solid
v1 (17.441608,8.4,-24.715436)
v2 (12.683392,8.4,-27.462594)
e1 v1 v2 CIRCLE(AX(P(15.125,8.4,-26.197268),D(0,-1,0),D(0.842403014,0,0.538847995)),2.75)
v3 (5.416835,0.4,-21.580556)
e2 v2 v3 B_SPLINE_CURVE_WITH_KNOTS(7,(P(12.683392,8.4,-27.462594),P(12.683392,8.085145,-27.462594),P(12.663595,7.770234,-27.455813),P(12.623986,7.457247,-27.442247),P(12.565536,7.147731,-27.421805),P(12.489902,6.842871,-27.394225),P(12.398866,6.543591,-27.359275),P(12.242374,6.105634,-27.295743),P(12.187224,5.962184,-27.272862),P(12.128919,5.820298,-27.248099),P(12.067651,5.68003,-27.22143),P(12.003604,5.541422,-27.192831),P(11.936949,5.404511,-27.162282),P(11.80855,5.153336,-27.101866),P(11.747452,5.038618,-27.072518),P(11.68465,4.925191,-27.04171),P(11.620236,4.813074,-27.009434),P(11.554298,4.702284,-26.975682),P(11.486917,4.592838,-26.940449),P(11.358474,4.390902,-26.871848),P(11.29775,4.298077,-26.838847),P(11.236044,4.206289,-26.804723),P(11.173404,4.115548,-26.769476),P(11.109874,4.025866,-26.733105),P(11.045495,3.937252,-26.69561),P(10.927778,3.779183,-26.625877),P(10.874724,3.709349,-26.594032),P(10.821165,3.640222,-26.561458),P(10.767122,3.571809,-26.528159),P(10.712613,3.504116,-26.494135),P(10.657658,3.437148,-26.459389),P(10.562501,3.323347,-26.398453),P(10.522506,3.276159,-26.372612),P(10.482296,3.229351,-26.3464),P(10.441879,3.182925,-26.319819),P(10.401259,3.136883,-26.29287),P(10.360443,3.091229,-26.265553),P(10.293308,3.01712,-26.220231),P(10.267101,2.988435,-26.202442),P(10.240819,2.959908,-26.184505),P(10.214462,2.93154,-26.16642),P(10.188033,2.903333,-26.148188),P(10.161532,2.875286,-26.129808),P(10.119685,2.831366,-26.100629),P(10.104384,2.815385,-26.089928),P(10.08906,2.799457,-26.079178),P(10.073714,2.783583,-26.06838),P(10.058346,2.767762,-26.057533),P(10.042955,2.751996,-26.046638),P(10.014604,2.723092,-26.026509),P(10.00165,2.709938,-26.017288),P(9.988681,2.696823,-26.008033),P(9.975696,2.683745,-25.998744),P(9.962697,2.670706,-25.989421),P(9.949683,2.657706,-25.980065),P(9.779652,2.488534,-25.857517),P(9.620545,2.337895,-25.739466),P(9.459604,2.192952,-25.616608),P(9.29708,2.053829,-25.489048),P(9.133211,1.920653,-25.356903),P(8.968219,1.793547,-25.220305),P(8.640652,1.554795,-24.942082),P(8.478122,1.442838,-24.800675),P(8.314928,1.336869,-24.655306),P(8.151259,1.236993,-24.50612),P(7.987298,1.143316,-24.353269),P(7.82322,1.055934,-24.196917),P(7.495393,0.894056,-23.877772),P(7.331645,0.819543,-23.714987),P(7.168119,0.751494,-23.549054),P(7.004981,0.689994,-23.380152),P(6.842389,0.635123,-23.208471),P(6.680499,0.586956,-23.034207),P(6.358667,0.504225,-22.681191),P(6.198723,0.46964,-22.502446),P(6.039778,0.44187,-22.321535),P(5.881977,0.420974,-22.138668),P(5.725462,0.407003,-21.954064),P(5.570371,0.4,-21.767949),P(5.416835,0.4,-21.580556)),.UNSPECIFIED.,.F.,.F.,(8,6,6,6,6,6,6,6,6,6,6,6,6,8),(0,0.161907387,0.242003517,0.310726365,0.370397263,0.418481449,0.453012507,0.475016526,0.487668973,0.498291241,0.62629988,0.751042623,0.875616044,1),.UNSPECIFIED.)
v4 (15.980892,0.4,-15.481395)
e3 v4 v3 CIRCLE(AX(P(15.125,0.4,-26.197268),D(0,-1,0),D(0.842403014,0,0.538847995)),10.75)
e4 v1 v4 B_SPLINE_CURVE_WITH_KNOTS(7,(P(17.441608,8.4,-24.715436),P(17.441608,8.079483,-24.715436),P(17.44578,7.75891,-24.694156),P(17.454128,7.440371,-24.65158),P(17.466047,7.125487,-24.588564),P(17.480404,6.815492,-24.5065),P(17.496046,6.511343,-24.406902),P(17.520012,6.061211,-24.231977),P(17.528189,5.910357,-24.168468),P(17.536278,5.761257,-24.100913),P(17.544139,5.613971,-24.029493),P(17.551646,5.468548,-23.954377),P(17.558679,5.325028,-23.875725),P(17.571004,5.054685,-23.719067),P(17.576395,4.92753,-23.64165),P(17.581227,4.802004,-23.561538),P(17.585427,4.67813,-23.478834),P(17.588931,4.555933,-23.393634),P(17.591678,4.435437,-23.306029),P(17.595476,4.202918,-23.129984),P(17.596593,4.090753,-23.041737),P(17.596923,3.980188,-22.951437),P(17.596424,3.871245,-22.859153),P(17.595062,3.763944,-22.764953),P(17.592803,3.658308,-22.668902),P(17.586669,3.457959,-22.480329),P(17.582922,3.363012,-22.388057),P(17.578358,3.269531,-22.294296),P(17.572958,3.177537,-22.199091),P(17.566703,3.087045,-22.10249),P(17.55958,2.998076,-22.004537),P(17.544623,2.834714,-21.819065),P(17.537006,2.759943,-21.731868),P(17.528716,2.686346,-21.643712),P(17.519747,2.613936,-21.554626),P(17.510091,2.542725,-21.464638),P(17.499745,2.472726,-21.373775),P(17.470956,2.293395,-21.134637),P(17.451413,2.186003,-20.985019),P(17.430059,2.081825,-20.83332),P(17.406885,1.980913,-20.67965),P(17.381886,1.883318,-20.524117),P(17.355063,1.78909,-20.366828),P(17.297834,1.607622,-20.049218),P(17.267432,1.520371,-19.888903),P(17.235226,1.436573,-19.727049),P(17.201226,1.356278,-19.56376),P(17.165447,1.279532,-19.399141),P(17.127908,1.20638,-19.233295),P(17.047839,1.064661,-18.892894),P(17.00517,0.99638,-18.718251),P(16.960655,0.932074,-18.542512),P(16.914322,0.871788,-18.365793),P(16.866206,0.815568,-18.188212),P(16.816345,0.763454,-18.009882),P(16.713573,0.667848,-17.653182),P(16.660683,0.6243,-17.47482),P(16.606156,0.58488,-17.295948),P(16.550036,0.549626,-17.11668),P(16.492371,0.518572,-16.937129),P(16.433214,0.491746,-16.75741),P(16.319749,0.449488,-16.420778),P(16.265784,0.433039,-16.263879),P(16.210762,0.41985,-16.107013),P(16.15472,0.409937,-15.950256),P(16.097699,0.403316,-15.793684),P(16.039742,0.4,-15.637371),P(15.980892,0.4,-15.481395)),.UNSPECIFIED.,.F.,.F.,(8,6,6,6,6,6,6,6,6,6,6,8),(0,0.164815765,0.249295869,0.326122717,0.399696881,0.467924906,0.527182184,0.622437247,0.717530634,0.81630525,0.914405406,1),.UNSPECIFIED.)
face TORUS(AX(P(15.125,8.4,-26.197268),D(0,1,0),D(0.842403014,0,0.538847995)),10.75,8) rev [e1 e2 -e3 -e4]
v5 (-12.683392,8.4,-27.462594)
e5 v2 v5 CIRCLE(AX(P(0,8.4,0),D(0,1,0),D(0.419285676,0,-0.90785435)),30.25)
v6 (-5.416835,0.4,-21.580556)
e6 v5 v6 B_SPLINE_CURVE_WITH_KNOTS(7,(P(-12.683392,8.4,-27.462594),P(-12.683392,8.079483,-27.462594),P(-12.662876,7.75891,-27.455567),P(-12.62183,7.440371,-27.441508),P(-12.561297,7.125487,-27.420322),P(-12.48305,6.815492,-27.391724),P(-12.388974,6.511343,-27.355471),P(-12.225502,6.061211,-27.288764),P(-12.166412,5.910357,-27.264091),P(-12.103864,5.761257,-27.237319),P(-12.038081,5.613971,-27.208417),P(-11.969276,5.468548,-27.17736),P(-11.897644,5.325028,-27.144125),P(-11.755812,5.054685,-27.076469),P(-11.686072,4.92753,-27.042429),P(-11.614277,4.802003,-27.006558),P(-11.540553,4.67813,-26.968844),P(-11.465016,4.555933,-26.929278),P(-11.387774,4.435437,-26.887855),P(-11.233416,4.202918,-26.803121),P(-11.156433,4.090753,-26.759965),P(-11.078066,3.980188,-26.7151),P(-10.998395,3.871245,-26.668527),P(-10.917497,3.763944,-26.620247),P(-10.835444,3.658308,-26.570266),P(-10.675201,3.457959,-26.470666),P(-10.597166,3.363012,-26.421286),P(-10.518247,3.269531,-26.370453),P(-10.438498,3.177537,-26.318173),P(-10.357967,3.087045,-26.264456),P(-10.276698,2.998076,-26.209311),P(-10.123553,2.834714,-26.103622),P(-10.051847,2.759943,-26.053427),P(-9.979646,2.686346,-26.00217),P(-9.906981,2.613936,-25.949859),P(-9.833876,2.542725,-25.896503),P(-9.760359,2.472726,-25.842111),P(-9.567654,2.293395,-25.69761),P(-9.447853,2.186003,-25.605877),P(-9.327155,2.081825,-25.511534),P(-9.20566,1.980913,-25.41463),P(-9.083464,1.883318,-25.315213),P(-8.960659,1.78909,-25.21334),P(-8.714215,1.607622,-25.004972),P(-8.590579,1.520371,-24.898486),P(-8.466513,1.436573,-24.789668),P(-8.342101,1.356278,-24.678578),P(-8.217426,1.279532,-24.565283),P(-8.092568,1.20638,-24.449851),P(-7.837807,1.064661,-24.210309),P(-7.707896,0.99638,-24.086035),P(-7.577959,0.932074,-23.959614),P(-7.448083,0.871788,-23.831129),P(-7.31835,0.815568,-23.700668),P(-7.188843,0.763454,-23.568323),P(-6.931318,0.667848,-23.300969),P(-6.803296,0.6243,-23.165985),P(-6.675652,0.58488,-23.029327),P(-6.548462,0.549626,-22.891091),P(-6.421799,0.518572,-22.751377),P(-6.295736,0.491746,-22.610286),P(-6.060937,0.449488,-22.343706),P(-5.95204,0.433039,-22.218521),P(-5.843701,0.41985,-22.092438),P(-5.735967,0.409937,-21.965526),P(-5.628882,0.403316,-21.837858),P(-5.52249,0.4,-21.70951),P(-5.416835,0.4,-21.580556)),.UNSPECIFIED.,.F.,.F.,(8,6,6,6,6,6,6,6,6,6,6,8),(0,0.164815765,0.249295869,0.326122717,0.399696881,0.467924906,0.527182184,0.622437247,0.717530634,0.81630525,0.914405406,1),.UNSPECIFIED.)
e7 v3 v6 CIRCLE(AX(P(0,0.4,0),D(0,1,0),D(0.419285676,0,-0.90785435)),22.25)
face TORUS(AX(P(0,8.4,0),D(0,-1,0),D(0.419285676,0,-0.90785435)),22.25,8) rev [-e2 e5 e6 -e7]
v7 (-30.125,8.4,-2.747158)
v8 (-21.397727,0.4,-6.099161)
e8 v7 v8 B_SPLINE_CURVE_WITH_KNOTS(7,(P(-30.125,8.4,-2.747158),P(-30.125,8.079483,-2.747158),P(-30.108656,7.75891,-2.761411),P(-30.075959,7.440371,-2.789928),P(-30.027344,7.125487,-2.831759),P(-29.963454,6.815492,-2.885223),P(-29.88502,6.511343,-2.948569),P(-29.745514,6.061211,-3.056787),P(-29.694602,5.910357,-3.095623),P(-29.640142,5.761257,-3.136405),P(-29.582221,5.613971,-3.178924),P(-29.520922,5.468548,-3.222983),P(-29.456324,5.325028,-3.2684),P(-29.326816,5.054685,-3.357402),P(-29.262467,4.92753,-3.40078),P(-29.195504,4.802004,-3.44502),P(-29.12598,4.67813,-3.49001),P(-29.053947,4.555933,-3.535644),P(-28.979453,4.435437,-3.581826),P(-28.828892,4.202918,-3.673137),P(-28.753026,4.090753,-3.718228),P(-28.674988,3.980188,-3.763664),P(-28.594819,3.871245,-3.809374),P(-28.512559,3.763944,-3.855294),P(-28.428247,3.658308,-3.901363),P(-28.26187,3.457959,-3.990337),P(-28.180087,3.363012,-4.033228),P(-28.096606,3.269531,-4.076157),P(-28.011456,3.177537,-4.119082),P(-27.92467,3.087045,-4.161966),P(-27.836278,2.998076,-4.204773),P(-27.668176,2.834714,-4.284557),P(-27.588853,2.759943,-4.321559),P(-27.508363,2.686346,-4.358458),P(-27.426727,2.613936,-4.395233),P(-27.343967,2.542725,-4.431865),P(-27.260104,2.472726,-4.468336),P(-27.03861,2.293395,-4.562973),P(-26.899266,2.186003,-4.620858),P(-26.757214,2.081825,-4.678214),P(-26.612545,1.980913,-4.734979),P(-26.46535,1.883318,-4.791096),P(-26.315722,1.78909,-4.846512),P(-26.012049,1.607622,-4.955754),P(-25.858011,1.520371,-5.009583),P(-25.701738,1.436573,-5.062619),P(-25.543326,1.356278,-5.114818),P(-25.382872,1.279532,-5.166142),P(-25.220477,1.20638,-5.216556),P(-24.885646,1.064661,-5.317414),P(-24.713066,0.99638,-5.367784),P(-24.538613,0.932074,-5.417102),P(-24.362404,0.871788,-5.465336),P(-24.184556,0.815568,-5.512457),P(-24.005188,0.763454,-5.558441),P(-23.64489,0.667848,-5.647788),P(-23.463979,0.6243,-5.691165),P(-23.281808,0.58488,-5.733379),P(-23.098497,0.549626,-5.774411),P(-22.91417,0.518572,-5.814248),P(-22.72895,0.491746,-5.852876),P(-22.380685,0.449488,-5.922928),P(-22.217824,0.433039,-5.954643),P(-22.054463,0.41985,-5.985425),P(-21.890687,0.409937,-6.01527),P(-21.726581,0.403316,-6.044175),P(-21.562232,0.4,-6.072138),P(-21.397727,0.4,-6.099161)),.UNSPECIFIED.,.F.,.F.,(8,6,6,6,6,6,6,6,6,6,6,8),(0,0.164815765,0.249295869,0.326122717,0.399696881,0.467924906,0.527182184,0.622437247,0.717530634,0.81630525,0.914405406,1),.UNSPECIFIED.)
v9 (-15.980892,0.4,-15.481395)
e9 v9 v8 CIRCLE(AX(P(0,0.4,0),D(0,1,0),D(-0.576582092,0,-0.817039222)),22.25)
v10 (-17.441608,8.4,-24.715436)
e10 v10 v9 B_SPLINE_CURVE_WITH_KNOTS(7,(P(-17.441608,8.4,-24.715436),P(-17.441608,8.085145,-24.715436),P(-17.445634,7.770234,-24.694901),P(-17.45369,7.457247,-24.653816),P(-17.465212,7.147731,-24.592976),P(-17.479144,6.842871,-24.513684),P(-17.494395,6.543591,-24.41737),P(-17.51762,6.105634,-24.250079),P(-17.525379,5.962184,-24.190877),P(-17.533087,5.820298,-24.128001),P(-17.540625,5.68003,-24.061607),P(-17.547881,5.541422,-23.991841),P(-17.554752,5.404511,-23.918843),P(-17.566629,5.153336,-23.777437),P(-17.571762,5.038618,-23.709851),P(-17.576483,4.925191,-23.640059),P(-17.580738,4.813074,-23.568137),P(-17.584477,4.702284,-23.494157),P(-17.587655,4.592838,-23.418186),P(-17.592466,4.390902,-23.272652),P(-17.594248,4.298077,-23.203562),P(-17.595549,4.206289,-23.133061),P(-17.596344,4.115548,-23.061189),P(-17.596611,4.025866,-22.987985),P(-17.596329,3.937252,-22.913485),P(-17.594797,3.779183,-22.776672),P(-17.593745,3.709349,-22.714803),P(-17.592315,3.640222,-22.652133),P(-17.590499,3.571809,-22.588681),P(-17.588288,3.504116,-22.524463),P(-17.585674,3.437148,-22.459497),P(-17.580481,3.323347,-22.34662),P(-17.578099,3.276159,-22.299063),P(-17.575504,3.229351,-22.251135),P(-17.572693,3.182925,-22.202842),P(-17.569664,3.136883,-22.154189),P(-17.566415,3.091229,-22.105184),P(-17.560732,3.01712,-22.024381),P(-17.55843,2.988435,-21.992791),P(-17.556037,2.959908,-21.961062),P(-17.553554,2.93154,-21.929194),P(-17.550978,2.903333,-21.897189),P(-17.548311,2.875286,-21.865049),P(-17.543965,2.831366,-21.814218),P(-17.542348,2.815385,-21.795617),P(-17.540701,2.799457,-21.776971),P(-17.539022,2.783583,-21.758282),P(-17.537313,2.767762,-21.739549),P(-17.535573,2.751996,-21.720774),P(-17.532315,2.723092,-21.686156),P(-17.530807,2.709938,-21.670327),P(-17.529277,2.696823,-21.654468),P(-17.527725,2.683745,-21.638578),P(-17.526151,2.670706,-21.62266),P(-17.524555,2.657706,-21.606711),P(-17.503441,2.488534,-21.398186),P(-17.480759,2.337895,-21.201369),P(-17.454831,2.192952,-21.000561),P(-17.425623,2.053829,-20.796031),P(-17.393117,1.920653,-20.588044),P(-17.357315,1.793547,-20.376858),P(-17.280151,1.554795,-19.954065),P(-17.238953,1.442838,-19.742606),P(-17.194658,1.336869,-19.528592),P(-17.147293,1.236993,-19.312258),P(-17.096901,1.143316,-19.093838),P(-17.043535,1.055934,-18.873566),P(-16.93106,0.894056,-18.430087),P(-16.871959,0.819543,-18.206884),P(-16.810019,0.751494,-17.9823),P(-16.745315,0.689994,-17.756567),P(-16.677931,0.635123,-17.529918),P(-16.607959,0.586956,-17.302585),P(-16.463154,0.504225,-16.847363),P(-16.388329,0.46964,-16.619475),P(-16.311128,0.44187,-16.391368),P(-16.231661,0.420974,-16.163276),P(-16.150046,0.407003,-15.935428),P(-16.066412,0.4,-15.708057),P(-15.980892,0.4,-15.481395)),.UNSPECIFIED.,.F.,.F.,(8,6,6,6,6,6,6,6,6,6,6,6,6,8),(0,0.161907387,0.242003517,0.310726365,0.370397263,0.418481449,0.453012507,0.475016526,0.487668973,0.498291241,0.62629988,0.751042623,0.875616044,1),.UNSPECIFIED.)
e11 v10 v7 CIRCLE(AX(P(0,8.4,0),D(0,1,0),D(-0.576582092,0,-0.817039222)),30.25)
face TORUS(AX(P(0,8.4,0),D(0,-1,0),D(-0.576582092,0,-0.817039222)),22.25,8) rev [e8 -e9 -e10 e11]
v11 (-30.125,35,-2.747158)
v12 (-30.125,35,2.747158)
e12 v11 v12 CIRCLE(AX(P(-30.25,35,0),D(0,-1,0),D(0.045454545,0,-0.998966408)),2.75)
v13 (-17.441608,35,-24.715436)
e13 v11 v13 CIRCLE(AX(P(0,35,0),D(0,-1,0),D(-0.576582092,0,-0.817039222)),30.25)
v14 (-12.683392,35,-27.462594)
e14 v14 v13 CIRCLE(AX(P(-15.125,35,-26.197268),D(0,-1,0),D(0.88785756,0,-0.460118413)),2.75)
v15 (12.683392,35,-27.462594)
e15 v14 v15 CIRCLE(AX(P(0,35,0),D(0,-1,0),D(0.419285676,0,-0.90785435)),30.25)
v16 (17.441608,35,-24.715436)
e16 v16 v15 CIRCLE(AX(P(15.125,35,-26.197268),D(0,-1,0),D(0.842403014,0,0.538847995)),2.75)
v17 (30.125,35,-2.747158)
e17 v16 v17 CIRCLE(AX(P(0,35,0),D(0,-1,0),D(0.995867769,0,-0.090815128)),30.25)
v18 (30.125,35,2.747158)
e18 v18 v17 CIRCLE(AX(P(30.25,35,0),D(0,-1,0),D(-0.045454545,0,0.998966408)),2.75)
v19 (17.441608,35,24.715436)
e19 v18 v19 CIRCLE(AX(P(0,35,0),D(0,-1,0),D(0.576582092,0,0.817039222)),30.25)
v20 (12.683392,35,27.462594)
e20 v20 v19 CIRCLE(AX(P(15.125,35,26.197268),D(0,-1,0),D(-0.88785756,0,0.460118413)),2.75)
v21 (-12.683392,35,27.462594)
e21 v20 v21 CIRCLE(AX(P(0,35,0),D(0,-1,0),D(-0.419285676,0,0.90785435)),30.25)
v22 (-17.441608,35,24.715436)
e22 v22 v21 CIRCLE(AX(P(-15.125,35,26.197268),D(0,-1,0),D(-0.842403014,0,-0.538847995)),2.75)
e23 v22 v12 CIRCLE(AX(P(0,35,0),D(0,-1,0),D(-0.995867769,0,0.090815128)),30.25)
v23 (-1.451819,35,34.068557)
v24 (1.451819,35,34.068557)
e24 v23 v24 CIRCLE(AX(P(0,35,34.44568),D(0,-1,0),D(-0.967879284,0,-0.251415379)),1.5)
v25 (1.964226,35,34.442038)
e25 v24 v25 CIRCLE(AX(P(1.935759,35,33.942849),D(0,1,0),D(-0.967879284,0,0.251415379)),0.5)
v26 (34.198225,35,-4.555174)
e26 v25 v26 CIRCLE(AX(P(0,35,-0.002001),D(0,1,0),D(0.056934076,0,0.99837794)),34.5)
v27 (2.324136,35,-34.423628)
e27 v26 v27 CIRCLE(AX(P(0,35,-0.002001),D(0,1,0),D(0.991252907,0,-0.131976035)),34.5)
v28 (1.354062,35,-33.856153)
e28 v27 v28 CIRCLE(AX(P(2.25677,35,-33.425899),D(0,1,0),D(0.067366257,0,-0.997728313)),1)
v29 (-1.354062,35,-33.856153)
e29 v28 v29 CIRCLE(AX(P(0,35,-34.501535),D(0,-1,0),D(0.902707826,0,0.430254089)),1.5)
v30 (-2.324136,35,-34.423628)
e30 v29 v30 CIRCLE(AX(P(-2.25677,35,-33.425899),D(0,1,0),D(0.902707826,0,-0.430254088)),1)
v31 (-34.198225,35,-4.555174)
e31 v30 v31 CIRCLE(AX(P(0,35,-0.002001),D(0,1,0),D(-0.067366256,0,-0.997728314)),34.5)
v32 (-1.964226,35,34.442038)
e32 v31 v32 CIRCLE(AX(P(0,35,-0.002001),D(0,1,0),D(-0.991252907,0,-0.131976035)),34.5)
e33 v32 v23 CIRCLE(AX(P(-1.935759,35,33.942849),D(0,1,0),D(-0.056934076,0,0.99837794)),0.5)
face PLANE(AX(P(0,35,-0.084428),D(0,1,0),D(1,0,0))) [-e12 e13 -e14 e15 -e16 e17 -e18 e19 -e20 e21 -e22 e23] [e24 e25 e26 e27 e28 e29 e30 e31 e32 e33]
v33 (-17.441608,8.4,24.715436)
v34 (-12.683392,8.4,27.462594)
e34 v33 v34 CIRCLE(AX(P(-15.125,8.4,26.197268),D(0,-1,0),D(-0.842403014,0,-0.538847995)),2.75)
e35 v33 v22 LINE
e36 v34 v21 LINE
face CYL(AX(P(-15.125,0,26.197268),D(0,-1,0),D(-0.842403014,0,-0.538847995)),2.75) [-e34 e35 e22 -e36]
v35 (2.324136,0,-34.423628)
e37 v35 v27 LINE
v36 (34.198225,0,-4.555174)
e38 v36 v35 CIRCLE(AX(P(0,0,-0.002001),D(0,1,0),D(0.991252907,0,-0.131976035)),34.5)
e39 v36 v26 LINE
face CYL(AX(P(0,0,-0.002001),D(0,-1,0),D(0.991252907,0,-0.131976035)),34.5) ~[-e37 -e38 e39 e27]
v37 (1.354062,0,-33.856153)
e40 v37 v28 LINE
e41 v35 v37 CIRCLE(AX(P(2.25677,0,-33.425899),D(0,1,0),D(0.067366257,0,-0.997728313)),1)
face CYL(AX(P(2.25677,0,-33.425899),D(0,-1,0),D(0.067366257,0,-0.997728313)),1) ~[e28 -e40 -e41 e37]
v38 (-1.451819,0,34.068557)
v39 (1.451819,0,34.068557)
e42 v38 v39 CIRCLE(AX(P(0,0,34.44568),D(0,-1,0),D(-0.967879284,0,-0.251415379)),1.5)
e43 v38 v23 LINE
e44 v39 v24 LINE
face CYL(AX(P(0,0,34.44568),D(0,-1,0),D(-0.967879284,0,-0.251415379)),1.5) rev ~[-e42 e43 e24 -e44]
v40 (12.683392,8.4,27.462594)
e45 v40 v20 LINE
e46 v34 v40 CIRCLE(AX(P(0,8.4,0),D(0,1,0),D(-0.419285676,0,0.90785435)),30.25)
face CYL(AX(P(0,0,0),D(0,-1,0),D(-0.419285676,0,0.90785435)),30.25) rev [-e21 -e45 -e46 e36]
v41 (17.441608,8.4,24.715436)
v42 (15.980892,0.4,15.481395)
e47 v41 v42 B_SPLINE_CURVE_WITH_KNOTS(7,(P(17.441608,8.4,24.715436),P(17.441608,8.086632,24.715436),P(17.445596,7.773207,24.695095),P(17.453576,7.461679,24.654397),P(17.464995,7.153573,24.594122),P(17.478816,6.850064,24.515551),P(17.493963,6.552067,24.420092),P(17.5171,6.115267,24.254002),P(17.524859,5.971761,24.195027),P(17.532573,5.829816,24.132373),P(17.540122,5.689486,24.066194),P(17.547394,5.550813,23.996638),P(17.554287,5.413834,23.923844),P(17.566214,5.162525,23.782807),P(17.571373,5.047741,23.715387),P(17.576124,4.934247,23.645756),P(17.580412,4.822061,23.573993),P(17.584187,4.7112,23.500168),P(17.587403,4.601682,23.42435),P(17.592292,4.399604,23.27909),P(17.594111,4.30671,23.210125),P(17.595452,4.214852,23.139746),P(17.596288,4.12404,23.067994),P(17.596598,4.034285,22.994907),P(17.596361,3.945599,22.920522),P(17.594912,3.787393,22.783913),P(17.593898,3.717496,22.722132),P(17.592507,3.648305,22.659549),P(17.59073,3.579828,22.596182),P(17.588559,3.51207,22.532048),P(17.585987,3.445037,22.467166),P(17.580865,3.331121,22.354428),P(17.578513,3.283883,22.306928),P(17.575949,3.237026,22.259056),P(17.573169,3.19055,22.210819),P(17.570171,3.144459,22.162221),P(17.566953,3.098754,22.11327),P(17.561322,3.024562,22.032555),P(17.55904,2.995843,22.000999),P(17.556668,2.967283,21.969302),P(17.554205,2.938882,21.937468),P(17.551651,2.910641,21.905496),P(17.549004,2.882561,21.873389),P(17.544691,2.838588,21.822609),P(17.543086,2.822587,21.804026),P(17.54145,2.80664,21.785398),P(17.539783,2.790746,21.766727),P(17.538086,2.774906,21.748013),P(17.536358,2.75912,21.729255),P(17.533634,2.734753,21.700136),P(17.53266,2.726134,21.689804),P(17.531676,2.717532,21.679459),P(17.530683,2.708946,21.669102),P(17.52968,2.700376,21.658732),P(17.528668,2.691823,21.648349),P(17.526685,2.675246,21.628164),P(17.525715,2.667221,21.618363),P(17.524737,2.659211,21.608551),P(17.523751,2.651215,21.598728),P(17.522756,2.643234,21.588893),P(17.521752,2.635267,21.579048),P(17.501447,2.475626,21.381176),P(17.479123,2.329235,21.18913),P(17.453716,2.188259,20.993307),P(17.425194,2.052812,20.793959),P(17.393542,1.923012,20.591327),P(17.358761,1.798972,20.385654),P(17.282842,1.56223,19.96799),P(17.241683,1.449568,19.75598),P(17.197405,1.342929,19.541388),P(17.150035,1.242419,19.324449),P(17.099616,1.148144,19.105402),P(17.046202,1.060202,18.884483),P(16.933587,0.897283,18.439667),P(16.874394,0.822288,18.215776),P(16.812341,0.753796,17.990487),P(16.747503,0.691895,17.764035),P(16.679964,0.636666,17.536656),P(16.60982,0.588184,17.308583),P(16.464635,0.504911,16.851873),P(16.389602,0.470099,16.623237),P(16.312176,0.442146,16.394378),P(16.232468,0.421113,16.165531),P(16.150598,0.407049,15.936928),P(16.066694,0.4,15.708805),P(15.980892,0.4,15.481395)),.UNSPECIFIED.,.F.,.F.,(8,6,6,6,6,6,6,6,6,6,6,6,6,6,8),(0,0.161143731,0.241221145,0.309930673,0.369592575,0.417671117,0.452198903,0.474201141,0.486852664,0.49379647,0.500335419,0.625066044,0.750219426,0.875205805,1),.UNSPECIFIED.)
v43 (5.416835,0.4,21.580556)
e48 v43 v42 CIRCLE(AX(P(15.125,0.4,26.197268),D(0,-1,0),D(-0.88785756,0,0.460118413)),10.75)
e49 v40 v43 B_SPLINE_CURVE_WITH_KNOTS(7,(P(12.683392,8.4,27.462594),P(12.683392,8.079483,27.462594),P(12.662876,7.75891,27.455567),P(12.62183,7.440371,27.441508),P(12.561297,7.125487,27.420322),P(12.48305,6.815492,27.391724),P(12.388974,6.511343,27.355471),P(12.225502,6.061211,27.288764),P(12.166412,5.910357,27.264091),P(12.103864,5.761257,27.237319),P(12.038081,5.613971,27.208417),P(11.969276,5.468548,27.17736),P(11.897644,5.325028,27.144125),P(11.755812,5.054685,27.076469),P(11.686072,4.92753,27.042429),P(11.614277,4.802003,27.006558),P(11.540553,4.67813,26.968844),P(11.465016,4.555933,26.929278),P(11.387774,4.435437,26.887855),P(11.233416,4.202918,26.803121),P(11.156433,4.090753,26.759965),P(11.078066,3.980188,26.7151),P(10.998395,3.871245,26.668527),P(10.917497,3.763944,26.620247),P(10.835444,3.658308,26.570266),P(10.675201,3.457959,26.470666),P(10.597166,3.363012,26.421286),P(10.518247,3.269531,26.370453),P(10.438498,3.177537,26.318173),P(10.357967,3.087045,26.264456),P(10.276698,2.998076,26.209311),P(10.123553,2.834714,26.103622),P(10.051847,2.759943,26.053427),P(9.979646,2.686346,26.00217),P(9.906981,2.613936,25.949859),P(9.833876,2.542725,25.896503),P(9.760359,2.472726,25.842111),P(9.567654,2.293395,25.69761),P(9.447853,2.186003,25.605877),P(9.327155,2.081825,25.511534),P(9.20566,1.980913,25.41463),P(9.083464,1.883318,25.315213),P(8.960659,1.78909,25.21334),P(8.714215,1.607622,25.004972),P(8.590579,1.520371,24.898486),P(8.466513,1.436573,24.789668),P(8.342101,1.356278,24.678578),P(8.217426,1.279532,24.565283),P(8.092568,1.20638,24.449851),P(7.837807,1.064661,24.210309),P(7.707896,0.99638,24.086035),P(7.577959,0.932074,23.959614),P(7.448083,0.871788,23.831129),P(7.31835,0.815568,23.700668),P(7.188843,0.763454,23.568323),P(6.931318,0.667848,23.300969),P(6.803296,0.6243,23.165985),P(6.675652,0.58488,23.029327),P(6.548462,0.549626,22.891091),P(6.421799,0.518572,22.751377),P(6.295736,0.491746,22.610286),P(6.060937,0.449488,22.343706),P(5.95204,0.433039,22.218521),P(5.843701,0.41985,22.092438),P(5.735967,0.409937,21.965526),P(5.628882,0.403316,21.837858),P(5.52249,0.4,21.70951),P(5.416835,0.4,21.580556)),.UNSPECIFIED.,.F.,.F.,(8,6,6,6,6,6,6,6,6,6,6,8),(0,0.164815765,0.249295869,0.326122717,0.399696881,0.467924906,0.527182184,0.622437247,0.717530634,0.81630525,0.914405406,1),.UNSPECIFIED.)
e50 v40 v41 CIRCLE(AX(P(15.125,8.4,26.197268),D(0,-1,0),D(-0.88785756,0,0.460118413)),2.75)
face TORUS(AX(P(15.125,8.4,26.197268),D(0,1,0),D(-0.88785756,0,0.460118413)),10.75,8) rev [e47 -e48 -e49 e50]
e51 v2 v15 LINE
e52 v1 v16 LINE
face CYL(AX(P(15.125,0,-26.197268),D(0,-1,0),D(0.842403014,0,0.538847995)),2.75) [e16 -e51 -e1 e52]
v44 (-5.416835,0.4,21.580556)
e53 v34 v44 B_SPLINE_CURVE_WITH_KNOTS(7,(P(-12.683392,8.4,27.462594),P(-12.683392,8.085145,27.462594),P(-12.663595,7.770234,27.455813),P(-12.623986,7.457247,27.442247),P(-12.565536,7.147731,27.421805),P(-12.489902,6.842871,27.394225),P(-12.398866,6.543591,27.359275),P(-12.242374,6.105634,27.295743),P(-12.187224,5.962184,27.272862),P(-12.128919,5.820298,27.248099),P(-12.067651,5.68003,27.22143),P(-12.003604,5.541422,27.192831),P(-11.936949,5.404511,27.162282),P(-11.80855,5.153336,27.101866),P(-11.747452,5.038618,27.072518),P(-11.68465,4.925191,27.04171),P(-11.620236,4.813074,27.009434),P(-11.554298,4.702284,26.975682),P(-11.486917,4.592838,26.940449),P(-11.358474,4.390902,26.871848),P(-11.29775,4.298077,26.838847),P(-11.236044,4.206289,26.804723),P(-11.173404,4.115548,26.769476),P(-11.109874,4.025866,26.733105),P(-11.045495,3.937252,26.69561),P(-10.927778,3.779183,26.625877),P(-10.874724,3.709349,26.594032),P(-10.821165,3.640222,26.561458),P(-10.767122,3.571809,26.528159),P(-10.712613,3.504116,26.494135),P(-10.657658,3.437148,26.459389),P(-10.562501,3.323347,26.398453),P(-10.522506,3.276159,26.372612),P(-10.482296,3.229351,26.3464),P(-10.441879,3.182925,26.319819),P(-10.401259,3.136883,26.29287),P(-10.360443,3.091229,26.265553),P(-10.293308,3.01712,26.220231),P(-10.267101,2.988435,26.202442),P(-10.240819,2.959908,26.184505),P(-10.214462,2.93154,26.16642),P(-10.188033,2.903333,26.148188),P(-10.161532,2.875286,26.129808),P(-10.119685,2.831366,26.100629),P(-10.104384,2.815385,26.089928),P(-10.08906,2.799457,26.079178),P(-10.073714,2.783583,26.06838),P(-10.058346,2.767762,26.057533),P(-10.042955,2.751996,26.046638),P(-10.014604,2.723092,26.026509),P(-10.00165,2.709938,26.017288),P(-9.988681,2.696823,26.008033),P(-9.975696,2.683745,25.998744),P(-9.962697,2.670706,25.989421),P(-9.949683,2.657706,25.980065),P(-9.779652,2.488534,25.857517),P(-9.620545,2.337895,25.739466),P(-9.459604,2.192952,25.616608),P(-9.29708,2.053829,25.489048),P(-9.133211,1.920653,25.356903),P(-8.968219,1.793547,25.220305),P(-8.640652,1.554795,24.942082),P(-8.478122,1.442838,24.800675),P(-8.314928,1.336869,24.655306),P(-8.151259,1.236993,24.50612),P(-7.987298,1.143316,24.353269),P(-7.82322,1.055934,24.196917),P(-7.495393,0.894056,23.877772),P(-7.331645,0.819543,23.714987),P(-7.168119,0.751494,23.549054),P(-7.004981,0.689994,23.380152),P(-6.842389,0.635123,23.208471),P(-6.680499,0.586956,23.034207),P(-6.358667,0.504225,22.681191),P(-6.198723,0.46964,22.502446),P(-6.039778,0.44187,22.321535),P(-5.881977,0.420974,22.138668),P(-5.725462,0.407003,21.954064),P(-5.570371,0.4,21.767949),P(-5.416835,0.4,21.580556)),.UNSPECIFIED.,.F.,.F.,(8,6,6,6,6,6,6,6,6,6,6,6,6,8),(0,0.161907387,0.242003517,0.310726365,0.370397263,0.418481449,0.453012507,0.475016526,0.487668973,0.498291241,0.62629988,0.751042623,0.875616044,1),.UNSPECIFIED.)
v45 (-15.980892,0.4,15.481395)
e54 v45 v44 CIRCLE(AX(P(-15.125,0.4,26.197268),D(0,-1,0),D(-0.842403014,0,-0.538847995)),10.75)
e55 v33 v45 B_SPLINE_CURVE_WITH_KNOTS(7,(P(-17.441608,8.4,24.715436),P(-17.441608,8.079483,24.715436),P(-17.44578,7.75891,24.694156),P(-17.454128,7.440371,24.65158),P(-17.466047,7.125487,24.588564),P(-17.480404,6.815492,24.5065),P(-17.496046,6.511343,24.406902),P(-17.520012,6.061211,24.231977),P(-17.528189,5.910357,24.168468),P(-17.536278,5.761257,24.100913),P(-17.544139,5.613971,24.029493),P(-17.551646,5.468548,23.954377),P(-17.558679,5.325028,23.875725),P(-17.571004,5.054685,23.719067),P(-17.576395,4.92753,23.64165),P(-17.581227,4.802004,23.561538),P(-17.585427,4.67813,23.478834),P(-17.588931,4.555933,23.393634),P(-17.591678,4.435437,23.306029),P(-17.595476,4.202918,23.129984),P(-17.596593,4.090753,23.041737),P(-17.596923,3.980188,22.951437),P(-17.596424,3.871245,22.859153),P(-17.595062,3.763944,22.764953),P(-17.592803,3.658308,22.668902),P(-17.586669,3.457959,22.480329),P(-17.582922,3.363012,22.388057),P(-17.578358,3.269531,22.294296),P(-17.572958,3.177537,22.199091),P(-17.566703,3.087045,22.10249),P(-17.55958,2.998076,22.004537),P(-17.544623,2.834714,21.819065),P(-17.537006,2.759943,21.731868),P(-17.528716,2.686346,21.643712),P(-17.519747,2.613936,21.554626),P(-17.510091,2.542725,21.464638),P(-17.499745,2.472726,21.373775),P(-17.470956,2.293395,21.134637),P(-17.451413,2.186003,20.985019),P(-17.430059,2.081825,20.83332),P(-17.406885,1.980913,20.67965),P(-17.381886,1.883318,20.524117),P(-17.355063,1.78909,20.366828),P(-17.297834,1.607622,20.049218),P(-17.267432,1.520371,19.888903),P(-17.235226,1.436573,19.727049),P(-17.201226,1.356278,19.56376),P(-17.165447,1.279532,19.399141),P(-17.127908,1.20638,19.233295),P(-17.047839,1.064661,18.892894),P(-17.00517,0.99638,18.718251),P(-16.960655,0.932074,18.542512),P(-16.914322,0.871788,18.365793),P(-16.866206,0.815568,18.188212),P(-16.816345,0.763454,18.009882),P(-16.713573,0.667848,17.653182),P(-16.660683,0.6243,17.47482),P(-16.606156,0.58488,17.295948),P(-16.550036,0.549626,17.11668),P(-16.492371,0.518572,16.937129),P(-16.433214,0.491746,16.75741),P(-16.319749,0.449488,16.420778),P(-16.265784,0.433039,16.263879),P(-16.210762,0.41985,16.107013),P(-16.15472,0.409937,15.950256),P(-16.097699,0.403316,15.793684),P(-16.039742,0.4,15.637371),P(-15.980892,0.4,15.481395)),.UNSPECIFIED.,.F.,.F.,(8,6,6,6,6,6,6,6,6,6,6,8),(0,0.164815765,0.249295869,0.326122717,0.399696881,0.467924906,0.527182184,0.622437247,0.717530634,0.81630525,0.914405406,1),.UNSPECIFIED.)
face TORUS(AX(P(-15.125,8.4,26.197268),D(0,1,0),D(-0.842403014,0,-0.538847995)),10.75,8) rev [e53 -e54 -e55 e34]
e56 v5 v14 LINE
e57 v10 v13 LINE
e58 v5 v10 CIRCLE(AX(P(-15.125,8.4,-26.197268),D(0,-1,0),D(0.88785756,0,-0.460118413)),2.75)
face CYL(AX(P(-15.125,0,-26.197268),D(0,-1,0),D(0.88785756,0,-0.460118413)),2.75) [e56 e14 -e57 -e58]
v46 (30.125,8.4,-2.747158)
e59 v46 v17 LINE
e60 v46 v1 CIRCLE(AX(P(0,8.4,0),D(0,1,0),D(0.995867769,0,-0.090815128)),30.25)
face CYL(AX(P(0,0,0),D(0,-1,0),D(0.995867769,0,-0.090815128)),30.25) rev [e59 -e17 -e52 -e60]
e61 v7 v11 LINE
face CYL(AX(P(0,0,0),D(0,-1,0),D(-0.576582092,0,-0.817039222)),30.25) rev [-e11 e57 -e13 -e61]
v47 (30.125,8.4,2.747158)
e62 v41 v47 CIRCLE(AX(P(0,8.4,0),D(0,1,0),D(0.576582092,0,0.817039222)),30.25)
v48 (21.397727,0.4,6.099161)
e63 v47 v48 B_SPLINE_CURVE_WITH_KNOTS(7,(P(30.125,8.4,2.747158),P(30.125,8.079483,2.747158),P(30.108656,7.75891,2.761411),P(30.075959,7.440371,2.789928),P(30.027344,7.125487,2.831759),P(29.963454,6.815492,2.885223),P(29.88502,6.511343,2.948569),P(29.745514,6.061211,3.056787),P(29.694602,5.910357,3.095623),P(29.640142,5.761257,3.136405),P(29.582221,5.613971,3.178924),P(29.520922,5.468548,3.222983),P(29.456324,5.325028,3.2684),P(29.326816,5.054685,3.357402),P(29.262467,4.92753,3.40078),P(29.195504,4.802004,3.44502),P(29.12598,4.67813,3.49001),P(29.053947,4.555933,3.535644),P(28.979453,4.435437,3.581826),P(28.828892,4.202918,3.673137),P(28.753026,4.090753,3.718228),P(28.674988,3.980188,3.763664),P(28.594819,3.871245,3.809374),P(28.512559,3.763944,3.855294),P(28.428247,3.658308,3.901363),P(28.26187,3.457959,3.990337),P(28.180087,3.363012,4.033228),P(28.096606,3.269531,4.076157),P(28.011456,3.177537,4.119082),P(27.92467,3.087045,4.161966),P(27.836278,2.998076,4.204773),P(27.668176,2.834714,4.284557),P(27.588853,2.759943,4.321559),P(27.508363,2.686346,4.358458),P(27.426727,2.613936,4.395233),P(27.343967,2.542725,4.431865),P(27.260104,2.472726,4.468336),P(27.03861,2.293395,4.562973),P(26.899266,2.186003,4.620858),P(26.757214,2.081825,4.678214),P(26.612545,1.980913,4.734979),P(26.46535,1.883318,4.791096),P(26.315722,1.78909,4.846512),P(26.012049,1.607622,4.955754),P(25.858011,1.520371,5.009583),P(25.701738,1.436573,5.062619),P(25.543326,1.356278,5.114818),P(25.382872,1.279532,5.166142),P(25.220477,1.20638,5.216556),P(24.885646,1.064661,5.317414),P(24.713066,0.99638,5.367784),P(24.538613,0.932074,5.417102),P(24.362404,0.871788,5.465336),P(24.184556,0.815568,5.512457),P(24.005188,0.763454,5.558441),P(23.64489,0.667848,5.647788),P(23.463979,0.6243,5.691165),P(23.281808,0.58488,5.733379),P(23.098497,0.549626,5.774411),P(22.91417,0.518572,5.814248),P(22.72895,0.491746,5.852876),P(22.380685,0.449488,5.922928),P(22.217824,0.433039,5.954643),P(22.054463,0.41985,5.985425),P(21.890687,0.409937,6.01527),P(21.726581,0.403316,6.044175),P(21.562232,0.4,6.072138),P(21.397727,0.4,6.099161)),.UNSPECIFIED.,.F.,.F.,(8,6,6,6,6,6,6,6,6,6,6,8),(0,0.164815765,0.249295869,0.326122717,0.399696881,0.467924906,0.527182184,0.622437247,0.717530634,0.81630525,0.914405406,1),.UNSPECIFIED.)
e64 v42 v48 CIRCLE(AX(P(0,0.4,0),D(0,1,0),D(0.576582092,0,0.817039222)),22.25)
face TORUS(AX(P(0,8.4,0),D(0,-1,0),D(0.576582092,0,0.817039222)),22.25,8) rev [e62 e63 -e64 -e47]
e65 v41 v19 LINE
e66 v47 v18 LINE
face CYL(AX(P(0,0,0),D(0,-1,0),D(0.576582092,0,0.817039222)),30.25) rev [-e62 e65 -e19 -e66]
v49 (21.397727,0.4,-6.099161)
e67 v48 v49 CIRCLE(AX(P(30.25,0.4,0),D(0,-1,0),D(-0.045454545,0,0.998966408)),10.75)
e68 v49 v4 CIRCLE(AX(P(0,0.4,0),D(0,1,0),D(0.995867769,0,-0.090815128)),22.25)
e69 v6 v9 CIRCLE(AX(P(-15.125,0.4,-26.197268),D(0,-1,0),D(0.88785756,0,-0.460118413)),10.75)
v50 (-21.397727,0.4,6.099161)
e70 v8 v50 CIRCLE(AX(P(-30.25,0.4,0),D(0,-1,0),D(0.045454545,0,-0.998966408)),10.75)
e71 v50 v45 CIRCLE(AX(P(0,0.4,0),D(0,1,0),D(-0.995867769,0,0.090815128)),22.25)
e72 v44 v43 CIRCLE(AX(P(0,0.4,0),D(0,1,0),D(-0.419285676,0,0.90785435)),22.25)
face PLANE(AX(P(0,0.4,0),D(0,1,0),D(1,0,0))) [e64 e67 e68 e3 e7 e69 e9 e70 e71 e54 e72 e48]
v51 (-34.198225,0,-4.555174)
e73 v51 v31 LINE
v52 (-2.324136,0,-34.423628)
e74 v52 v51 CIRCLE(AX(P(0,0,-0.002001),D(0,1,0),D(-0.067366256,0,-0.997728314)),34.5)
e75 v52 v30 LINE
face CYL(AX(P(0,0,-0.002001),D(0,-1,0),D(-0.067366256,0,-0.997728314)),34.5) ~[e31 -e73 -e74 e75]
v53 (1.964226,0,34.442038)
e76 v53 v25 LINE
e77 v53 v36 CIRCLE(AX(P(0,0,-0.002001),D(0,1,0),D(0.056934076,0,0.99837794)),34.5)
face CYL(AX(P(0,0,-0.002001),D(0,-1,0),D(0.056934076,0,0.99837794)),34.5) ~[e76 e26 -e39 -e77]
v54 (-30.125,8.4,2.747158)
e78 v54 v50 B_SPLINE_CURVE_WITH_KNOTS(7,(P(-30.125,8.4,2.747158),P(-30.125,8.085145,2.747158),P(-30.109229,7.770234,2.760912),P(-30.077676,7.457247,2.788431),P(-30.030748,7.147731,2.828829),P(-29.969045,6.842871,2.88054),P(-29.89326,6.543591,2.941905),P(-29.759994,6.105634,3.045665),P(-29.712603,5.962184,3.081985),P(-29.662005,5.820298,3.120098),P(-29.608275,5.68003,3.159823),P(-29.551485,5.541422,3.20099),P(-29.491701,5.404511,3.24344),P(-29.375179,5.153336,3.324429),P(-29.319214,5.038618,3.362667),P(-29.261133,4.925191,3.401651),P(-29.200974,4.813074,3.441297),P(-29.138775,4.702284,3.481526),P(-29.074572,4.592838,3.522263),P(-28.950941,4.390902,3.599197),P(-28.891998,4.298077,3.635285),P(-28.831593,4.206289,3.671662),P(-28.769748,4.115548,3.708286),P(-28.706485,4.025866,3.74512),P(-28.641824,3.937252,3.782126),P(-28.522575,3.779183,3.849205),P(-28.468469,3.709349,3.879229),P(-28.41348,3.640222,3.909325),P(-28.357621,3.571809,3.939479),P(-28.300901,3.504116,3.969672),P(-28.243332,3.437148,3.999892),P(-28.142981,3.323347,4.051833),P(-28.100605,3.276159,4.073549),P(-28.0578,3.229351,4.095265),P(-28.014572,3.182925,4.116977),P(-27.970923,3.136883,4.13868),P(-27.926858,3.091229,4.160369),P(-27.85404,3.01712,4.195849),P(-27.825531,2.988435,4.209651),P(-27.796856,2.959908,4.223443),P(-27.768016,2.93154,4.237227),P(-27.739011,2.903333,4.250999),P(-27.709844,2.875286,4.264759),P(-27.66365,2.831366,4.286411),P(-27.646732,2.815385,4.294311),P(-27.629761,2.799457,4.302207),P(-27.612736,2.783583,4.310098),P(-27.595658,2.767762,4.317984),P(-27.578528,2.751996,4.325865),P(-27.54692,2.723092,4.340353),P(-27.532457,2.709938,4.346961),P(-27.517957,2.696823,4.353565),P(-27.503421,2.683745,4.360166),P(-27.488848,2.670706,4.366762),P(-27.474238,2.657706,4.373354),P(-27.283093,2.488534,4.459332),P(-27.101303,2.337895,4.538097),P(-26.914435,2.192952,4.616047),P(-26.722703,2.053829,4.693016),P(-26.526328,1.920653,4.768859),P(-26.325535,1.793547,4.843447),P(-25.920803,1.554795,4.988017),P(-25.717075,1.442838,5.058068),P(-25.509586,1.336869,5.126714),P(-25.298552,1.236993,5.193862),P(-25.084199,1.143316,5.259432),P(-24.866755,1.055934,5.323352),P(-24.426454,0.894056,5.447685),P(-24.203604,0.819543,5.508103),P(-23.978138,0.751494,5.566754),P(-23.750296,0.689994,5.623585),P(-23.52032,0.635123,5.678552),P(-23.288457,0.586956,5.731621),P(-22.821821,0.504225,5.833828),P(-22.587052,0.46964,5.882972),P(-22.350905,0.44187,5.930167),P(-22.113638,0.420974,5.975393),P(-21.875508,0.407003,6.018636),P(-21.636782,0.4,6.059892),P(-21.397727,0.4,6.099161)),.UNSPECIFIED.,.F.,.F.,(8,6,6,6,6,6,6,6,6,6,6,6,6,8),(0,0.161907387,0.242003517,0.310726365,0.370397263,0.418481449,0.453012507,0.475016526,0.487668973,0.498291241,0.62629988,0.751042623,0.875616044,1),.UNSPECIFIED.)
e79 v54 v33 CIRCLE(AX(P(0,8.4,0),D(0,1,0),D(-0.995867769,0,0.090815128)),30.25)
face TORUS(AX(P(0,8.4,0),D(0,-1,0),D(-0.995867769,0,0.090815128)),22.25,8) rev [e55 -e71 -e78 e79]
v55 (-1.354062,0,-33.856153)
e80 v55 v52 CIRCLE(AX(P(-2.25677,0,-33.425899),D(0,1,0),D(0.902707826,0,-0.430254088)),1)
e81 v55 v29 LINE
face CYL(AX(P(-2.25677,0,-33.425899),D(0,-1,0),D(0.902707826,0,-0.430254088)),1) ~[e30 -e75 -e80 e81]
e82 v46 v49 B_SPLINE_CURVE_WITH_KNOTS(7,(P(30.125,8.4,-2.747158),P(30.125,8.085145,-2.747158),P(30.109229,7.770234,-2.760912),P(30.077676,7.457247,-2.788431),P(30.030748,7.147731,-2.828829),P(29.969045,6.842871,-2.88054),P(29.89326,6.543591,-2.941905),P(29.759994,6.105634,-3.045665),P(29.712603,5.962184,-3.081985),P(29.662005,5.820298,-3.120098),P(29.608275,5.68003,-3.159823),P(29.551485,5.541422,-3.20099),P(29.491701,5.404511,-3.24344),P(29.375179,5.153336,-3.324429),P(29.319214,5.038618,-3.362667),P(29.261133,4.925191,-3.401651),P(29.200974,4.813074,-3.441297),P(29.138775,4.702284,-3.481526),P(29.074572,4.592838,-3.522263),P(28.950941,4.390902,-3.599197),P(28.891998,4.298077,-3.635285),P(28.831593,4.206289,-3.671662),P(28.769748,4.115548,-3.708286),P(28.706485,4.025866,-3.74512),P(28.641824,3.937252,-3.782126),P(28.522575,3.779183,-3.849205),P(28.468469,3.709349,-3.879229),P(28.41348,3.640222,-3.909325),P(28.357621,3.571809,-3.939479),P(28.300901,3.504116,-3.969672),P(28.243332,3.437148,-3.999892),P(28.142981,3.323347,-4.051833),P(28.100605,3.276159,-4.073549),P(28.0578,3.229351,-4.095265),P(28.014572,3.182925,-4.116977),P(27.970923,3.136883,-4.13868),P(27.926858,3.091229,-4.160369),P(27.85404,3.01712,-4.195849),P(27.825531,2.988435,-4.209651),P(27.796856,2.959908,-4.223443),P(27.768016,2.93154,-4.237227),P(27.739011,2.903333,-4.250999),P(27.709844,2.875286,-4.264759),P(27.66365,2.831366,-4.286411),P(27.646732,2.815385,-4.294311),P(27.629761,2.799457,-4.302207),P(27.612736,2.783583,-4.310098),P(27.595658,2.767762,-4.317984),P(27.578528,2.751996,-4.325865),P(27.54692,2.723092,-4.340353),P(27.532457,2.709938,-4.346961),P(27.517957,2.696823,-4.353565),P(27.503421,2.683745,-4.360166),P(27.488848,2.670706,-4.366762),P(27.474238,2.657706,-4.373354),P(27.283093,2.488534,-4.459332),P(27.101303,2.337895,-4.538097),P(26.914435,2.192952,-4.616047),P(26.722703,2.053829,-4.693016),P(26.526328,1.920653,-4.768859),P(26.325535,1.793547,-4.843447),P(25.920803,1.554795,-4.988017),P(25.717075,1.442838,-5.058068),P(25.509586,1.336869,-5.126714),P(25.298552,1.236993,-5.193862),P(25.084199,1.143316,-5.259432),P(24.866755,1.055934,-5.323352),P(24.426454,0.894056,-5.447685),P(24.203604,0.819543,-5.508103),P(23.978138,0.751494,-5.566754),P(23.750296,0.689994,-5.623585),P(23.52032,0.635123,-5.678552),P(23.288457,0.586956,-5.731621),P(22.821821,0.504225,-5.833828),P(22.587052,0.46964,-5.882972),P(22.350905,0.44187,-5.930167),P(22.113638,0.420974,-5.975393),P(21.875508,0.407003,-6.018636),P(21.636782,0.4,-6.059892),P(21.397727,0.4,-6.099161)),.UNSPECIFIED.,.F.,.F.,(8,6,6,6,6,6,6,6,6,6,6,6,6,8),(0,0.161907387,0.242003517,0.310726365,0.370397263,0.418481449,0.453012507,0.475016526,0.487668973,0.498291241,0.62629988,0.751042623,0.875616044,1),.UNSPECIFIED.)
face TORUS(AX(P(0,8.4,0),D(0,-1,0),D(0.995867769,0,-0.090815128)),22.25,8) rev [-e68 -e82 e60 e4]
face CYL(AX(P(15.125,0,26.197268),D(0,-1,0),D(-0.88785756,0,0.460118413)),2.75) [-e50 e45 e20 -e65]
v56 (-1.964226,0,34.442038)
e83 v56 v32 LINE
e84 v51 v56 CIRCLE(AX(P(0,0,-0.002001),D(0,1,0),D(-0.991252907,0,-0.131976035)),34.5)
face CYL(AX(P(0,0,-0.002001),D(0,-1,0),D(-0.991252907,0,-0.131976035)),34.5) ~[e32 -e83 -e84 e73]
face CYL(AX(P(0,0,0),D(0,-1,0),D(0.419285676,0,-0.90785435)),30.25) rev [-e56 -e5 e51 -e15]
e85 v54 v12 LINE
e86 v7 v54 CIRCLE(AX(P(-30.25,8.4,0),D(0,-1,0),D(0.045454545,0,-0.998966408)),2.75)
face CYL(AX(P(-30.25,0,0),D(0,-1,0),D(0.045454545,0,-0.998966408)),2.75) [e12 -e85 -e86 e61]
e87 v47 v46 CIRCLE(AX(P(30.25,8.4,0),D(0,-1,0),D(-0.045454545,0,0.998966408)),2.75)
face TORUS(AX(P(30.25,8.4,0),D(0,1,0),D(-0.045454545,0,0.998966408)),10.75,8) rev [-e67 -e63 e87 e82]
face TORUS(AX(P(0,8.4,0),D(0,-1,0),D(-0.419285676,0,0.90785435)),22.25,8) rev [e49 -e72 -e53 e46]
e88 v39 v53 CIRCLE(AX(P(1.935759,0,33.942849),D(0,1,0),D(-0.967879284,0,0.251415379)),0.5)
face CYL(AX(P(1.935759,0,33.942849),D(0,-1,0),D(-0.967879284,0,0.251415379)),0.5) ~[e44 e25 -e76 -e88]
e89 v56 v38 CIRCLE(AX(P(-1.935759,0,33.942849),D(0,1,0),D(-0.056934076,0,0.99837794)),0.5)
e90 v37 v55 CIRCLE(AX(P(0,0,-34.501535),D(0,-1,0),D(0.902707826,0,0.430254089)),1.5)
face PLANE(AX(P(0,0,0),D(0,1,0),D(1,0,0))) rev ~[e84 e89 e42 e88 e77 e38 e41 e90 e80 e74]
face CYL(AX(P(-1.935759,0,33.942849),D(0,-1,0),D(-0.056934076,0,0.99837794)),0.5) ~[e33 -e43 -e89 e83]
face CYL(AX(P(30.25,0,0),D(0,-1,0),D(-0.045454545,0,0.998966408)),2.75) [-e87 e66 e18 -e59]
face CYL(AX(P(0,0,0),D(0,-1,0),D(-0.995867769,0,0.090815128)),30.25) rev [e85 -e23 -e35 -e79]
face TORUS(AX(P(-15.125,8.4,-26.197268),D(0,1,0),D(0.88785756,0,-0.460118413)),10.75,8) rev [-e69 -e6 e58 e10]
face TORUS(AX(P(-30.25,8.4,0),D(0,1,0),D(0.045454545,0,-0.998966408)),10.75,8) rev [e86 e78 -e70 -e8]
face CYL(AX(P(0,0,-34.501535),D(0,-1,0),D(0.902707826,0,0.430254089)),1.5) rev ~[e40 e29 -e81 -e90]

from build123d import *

# Parameters (mm, degrees)
BOSS_EXTRUDE1_DEPTH = 35
CUT_EXTRUDE2_DEPTH  = 36
BOSS_EXTRUDE2_DEPTH = 0.4
FILLET1_R           = 8


with BuildPart() as part:
    # Sketch1 → Boss-Extrude1 (new body)
    with BuildSketch(Plane(origin=(0, 0, 0), x_dir=(1, 0, 0), z_dir=(0, 1, 0))):
        with BuildLine():
            ThreePointArc((1.451818925, -34.068556857), (1.641248992, -34.346908706), (1.964225605, -34.442038138))
            ThreePointArc((1.964225605, -34.442038138), (26.591847487, -21.978073076), (34.198225299, 4.555174015))
            ThreePointArc((34.198225299, 4.555174015), (23.590291339, 25.176355888), (2.324135821, 34.423627607))
            ThreePointArc((2.324135821, 34.423627607), (1.751838249, 34.289058819), (1.354061739, 33.856153382))
            ThreePointArc((1.354061739, 33.856153382), (0, 33.001534515), (-1.354061739, 33.856153382))
            ThreePointArc((-1.354061739, 33.856153382), (-1.751838249, 34.289058819), (-2.324135821, 34.423627607))
            ThreePointArc((-2.324135821, 34.423627607), (-23.590291339, 25.176355888), (-34.198225299, 4.555174015))
            ThreePointArc((-34.198225299, 4.555174015), (-26.591847487, -21.978073076), (-1.964225605, -34.442038138))
            ThreePointArc((-1.964225605, -34.442038138), (-1.641248992, -34.346908706), (-1.451818925, -34.068556857))
            ThreePointArc((-1.451818925, -34.068556857), (0, -32.945679925), (1.451818925, -34.068556857))
        make_face()
        with BuildLine():
            Line((-2.417, 3.787737139), (0, 3.787737139))
            Line((0, 3.787737139), (2.417, 3.787737139))
            ThreePointArc((2.417, 3.787737139), (0, -4.489512172), (-2.417, 3.787737139))
        make_face(mode=Mode.SUBTRACT)
    extrude(amount=BOSS_EXTRUDE1_DEPTH)

    # Sketch2 → Cut-Extrude2 (cut, through all)
    with BuildSketch(Plane(origin=(0, 0, 0), x_dir=(1, 0, 0), z_dir=(0, 1, 0))):
        with BuildLine():
            ThreePointArc((-17.441608289, 24.715436478), (-26.197268464, 15.125), (-30.125, 2.747157622))
            ThreePointArc((-30.125, 2.747157622), (-27.5, 0), (-30.125, -2.747157622))
            ThreePointArc((-30.125, -2.747157622), (-26.197268464, -15.125), (-17.441608289, -24.715436478))
            ThreePointArc((-17.441608289, -24.715436478), (-13.75, -23.815698604), (-12.683391711, -27.4625941))
            ThreePointArc((-12.683391711, -27.4625941), (0, -30.25), (12.683391711, -27.4625941))
            ThreePointArc((12.683391711, -27.4625941), (13.75, -23.815698604), (17.441608289, -24.715436478))
            ThreePointArc((17.441608289, -24.715436478), (26.197268464, -15.125), (30.125, -2.747157622))
            ThreePointArc((30.125, -2.747157622), (27.5, 0), (30.125, 2.747157622))
            ThreePointArc((30.125, 2.747157622), (26.197268464, 15.125), (17.441608289, 24.715436478))
            ThreePointArc((17.441608289, 24.715436478), (13.75, 23.815698604), (12.683391711, 27.4625941))
            ThreePointArc((12.683391711, 27.4625941), (0, 30.25), (-12.683391711, 27.4625941))
            ThreePointArc((-12.683391711, 27.4625941), (-13.75, 23.815698604), (-17.441608289, 24.715436478))
        make_face()
    extrude(amount=CUT_EXTRUDE2_DEPTH, mode=Mode.SUBTRACT)

    # Sketch2<2> → Boss-Extrude2 (add)
    with BuildSketch(Plane(origin=(0, 0, 0), x_dir=(1, 0, 0), z_dir=(0, 1, 0))):
        with BuildLine():
            ThreePointArc((-17.441608289, 24.715436478), (-26.197268464, 15.125), (-30.125, 2.747157622))
            ThreePointArc((-30.125, 2.747157622), (-27.5, 0), (-30.125, -2.747157622))
            ThreePointArc((-30.125, -2.747157622), (-26.197268464, -15.125), (-17.441608289, -24.715436478))
            ThreePointArc((-17.441608289, -24.715436478), (-13.75, -23.815698604), (-12.683391711, -27.4625941))
            ThreePointArc((-12.683391711, -27.4625941), (0, -30.25), (12.683391711, -27.4625941))
            ThreePointArc((12.683391711, -27.4625941), (13.75, -23.815698604), (17.441608289, -24.715436478))
            ThreePointArc((17.441608289, -24.715436478), (26.197268464, -15.125), (30.125, -2.747157622))
            ThreePointArc((30.125, -2.747157622), (27.5, 0), (30.125, 2.747157622))
            ThreePointArc((30.125, 2.747157622), (26.197268464, 15.125), (17.441608289, 24.715436478))
            ThreePointArc((17.441608289, 24.715436478), (13.75, 23.815698604), (12.683391711, 27.4625941))
            ThreePointArc((12.683391711, 27.4625941), (0, 30.25), (-12.683391711, 27.4625941))
            ThreePointArc((-12.683391711, 27.4625941), (-13.75, 23.815698604), (-17.441608289, 24.715436478))
        make_face()
    extrude(amount=BOSS_EXTRUDE2_DEPTH)

    # Fillet1
    fillet1_edges = [part.edges().sort_by_distance(p)[0] for p in [
        (26.197268464, 0.4, 15.125),
        (27.5, 0.4, 0),
        (26.197268464, 0.4, -15.125),
        (13.75, 0.4, -23.815698604),
        (0, 0.4, -30.25),
        (-13.75, 0.4, -23.815698604),
        (-26.197268464, 0.4, -15.125),
        (-27.5, 0.4, 0),
        (-26.197268464, 0.4, 15.125),
        (-13.75, 0.4, 23.815698604),
        (0, 0.4, 30.25),
        (13.75, 0.4, 23.815698604),
    ]]
    fillet(fillet1_edges, radius=FILLET1_R)


solid = part.part
